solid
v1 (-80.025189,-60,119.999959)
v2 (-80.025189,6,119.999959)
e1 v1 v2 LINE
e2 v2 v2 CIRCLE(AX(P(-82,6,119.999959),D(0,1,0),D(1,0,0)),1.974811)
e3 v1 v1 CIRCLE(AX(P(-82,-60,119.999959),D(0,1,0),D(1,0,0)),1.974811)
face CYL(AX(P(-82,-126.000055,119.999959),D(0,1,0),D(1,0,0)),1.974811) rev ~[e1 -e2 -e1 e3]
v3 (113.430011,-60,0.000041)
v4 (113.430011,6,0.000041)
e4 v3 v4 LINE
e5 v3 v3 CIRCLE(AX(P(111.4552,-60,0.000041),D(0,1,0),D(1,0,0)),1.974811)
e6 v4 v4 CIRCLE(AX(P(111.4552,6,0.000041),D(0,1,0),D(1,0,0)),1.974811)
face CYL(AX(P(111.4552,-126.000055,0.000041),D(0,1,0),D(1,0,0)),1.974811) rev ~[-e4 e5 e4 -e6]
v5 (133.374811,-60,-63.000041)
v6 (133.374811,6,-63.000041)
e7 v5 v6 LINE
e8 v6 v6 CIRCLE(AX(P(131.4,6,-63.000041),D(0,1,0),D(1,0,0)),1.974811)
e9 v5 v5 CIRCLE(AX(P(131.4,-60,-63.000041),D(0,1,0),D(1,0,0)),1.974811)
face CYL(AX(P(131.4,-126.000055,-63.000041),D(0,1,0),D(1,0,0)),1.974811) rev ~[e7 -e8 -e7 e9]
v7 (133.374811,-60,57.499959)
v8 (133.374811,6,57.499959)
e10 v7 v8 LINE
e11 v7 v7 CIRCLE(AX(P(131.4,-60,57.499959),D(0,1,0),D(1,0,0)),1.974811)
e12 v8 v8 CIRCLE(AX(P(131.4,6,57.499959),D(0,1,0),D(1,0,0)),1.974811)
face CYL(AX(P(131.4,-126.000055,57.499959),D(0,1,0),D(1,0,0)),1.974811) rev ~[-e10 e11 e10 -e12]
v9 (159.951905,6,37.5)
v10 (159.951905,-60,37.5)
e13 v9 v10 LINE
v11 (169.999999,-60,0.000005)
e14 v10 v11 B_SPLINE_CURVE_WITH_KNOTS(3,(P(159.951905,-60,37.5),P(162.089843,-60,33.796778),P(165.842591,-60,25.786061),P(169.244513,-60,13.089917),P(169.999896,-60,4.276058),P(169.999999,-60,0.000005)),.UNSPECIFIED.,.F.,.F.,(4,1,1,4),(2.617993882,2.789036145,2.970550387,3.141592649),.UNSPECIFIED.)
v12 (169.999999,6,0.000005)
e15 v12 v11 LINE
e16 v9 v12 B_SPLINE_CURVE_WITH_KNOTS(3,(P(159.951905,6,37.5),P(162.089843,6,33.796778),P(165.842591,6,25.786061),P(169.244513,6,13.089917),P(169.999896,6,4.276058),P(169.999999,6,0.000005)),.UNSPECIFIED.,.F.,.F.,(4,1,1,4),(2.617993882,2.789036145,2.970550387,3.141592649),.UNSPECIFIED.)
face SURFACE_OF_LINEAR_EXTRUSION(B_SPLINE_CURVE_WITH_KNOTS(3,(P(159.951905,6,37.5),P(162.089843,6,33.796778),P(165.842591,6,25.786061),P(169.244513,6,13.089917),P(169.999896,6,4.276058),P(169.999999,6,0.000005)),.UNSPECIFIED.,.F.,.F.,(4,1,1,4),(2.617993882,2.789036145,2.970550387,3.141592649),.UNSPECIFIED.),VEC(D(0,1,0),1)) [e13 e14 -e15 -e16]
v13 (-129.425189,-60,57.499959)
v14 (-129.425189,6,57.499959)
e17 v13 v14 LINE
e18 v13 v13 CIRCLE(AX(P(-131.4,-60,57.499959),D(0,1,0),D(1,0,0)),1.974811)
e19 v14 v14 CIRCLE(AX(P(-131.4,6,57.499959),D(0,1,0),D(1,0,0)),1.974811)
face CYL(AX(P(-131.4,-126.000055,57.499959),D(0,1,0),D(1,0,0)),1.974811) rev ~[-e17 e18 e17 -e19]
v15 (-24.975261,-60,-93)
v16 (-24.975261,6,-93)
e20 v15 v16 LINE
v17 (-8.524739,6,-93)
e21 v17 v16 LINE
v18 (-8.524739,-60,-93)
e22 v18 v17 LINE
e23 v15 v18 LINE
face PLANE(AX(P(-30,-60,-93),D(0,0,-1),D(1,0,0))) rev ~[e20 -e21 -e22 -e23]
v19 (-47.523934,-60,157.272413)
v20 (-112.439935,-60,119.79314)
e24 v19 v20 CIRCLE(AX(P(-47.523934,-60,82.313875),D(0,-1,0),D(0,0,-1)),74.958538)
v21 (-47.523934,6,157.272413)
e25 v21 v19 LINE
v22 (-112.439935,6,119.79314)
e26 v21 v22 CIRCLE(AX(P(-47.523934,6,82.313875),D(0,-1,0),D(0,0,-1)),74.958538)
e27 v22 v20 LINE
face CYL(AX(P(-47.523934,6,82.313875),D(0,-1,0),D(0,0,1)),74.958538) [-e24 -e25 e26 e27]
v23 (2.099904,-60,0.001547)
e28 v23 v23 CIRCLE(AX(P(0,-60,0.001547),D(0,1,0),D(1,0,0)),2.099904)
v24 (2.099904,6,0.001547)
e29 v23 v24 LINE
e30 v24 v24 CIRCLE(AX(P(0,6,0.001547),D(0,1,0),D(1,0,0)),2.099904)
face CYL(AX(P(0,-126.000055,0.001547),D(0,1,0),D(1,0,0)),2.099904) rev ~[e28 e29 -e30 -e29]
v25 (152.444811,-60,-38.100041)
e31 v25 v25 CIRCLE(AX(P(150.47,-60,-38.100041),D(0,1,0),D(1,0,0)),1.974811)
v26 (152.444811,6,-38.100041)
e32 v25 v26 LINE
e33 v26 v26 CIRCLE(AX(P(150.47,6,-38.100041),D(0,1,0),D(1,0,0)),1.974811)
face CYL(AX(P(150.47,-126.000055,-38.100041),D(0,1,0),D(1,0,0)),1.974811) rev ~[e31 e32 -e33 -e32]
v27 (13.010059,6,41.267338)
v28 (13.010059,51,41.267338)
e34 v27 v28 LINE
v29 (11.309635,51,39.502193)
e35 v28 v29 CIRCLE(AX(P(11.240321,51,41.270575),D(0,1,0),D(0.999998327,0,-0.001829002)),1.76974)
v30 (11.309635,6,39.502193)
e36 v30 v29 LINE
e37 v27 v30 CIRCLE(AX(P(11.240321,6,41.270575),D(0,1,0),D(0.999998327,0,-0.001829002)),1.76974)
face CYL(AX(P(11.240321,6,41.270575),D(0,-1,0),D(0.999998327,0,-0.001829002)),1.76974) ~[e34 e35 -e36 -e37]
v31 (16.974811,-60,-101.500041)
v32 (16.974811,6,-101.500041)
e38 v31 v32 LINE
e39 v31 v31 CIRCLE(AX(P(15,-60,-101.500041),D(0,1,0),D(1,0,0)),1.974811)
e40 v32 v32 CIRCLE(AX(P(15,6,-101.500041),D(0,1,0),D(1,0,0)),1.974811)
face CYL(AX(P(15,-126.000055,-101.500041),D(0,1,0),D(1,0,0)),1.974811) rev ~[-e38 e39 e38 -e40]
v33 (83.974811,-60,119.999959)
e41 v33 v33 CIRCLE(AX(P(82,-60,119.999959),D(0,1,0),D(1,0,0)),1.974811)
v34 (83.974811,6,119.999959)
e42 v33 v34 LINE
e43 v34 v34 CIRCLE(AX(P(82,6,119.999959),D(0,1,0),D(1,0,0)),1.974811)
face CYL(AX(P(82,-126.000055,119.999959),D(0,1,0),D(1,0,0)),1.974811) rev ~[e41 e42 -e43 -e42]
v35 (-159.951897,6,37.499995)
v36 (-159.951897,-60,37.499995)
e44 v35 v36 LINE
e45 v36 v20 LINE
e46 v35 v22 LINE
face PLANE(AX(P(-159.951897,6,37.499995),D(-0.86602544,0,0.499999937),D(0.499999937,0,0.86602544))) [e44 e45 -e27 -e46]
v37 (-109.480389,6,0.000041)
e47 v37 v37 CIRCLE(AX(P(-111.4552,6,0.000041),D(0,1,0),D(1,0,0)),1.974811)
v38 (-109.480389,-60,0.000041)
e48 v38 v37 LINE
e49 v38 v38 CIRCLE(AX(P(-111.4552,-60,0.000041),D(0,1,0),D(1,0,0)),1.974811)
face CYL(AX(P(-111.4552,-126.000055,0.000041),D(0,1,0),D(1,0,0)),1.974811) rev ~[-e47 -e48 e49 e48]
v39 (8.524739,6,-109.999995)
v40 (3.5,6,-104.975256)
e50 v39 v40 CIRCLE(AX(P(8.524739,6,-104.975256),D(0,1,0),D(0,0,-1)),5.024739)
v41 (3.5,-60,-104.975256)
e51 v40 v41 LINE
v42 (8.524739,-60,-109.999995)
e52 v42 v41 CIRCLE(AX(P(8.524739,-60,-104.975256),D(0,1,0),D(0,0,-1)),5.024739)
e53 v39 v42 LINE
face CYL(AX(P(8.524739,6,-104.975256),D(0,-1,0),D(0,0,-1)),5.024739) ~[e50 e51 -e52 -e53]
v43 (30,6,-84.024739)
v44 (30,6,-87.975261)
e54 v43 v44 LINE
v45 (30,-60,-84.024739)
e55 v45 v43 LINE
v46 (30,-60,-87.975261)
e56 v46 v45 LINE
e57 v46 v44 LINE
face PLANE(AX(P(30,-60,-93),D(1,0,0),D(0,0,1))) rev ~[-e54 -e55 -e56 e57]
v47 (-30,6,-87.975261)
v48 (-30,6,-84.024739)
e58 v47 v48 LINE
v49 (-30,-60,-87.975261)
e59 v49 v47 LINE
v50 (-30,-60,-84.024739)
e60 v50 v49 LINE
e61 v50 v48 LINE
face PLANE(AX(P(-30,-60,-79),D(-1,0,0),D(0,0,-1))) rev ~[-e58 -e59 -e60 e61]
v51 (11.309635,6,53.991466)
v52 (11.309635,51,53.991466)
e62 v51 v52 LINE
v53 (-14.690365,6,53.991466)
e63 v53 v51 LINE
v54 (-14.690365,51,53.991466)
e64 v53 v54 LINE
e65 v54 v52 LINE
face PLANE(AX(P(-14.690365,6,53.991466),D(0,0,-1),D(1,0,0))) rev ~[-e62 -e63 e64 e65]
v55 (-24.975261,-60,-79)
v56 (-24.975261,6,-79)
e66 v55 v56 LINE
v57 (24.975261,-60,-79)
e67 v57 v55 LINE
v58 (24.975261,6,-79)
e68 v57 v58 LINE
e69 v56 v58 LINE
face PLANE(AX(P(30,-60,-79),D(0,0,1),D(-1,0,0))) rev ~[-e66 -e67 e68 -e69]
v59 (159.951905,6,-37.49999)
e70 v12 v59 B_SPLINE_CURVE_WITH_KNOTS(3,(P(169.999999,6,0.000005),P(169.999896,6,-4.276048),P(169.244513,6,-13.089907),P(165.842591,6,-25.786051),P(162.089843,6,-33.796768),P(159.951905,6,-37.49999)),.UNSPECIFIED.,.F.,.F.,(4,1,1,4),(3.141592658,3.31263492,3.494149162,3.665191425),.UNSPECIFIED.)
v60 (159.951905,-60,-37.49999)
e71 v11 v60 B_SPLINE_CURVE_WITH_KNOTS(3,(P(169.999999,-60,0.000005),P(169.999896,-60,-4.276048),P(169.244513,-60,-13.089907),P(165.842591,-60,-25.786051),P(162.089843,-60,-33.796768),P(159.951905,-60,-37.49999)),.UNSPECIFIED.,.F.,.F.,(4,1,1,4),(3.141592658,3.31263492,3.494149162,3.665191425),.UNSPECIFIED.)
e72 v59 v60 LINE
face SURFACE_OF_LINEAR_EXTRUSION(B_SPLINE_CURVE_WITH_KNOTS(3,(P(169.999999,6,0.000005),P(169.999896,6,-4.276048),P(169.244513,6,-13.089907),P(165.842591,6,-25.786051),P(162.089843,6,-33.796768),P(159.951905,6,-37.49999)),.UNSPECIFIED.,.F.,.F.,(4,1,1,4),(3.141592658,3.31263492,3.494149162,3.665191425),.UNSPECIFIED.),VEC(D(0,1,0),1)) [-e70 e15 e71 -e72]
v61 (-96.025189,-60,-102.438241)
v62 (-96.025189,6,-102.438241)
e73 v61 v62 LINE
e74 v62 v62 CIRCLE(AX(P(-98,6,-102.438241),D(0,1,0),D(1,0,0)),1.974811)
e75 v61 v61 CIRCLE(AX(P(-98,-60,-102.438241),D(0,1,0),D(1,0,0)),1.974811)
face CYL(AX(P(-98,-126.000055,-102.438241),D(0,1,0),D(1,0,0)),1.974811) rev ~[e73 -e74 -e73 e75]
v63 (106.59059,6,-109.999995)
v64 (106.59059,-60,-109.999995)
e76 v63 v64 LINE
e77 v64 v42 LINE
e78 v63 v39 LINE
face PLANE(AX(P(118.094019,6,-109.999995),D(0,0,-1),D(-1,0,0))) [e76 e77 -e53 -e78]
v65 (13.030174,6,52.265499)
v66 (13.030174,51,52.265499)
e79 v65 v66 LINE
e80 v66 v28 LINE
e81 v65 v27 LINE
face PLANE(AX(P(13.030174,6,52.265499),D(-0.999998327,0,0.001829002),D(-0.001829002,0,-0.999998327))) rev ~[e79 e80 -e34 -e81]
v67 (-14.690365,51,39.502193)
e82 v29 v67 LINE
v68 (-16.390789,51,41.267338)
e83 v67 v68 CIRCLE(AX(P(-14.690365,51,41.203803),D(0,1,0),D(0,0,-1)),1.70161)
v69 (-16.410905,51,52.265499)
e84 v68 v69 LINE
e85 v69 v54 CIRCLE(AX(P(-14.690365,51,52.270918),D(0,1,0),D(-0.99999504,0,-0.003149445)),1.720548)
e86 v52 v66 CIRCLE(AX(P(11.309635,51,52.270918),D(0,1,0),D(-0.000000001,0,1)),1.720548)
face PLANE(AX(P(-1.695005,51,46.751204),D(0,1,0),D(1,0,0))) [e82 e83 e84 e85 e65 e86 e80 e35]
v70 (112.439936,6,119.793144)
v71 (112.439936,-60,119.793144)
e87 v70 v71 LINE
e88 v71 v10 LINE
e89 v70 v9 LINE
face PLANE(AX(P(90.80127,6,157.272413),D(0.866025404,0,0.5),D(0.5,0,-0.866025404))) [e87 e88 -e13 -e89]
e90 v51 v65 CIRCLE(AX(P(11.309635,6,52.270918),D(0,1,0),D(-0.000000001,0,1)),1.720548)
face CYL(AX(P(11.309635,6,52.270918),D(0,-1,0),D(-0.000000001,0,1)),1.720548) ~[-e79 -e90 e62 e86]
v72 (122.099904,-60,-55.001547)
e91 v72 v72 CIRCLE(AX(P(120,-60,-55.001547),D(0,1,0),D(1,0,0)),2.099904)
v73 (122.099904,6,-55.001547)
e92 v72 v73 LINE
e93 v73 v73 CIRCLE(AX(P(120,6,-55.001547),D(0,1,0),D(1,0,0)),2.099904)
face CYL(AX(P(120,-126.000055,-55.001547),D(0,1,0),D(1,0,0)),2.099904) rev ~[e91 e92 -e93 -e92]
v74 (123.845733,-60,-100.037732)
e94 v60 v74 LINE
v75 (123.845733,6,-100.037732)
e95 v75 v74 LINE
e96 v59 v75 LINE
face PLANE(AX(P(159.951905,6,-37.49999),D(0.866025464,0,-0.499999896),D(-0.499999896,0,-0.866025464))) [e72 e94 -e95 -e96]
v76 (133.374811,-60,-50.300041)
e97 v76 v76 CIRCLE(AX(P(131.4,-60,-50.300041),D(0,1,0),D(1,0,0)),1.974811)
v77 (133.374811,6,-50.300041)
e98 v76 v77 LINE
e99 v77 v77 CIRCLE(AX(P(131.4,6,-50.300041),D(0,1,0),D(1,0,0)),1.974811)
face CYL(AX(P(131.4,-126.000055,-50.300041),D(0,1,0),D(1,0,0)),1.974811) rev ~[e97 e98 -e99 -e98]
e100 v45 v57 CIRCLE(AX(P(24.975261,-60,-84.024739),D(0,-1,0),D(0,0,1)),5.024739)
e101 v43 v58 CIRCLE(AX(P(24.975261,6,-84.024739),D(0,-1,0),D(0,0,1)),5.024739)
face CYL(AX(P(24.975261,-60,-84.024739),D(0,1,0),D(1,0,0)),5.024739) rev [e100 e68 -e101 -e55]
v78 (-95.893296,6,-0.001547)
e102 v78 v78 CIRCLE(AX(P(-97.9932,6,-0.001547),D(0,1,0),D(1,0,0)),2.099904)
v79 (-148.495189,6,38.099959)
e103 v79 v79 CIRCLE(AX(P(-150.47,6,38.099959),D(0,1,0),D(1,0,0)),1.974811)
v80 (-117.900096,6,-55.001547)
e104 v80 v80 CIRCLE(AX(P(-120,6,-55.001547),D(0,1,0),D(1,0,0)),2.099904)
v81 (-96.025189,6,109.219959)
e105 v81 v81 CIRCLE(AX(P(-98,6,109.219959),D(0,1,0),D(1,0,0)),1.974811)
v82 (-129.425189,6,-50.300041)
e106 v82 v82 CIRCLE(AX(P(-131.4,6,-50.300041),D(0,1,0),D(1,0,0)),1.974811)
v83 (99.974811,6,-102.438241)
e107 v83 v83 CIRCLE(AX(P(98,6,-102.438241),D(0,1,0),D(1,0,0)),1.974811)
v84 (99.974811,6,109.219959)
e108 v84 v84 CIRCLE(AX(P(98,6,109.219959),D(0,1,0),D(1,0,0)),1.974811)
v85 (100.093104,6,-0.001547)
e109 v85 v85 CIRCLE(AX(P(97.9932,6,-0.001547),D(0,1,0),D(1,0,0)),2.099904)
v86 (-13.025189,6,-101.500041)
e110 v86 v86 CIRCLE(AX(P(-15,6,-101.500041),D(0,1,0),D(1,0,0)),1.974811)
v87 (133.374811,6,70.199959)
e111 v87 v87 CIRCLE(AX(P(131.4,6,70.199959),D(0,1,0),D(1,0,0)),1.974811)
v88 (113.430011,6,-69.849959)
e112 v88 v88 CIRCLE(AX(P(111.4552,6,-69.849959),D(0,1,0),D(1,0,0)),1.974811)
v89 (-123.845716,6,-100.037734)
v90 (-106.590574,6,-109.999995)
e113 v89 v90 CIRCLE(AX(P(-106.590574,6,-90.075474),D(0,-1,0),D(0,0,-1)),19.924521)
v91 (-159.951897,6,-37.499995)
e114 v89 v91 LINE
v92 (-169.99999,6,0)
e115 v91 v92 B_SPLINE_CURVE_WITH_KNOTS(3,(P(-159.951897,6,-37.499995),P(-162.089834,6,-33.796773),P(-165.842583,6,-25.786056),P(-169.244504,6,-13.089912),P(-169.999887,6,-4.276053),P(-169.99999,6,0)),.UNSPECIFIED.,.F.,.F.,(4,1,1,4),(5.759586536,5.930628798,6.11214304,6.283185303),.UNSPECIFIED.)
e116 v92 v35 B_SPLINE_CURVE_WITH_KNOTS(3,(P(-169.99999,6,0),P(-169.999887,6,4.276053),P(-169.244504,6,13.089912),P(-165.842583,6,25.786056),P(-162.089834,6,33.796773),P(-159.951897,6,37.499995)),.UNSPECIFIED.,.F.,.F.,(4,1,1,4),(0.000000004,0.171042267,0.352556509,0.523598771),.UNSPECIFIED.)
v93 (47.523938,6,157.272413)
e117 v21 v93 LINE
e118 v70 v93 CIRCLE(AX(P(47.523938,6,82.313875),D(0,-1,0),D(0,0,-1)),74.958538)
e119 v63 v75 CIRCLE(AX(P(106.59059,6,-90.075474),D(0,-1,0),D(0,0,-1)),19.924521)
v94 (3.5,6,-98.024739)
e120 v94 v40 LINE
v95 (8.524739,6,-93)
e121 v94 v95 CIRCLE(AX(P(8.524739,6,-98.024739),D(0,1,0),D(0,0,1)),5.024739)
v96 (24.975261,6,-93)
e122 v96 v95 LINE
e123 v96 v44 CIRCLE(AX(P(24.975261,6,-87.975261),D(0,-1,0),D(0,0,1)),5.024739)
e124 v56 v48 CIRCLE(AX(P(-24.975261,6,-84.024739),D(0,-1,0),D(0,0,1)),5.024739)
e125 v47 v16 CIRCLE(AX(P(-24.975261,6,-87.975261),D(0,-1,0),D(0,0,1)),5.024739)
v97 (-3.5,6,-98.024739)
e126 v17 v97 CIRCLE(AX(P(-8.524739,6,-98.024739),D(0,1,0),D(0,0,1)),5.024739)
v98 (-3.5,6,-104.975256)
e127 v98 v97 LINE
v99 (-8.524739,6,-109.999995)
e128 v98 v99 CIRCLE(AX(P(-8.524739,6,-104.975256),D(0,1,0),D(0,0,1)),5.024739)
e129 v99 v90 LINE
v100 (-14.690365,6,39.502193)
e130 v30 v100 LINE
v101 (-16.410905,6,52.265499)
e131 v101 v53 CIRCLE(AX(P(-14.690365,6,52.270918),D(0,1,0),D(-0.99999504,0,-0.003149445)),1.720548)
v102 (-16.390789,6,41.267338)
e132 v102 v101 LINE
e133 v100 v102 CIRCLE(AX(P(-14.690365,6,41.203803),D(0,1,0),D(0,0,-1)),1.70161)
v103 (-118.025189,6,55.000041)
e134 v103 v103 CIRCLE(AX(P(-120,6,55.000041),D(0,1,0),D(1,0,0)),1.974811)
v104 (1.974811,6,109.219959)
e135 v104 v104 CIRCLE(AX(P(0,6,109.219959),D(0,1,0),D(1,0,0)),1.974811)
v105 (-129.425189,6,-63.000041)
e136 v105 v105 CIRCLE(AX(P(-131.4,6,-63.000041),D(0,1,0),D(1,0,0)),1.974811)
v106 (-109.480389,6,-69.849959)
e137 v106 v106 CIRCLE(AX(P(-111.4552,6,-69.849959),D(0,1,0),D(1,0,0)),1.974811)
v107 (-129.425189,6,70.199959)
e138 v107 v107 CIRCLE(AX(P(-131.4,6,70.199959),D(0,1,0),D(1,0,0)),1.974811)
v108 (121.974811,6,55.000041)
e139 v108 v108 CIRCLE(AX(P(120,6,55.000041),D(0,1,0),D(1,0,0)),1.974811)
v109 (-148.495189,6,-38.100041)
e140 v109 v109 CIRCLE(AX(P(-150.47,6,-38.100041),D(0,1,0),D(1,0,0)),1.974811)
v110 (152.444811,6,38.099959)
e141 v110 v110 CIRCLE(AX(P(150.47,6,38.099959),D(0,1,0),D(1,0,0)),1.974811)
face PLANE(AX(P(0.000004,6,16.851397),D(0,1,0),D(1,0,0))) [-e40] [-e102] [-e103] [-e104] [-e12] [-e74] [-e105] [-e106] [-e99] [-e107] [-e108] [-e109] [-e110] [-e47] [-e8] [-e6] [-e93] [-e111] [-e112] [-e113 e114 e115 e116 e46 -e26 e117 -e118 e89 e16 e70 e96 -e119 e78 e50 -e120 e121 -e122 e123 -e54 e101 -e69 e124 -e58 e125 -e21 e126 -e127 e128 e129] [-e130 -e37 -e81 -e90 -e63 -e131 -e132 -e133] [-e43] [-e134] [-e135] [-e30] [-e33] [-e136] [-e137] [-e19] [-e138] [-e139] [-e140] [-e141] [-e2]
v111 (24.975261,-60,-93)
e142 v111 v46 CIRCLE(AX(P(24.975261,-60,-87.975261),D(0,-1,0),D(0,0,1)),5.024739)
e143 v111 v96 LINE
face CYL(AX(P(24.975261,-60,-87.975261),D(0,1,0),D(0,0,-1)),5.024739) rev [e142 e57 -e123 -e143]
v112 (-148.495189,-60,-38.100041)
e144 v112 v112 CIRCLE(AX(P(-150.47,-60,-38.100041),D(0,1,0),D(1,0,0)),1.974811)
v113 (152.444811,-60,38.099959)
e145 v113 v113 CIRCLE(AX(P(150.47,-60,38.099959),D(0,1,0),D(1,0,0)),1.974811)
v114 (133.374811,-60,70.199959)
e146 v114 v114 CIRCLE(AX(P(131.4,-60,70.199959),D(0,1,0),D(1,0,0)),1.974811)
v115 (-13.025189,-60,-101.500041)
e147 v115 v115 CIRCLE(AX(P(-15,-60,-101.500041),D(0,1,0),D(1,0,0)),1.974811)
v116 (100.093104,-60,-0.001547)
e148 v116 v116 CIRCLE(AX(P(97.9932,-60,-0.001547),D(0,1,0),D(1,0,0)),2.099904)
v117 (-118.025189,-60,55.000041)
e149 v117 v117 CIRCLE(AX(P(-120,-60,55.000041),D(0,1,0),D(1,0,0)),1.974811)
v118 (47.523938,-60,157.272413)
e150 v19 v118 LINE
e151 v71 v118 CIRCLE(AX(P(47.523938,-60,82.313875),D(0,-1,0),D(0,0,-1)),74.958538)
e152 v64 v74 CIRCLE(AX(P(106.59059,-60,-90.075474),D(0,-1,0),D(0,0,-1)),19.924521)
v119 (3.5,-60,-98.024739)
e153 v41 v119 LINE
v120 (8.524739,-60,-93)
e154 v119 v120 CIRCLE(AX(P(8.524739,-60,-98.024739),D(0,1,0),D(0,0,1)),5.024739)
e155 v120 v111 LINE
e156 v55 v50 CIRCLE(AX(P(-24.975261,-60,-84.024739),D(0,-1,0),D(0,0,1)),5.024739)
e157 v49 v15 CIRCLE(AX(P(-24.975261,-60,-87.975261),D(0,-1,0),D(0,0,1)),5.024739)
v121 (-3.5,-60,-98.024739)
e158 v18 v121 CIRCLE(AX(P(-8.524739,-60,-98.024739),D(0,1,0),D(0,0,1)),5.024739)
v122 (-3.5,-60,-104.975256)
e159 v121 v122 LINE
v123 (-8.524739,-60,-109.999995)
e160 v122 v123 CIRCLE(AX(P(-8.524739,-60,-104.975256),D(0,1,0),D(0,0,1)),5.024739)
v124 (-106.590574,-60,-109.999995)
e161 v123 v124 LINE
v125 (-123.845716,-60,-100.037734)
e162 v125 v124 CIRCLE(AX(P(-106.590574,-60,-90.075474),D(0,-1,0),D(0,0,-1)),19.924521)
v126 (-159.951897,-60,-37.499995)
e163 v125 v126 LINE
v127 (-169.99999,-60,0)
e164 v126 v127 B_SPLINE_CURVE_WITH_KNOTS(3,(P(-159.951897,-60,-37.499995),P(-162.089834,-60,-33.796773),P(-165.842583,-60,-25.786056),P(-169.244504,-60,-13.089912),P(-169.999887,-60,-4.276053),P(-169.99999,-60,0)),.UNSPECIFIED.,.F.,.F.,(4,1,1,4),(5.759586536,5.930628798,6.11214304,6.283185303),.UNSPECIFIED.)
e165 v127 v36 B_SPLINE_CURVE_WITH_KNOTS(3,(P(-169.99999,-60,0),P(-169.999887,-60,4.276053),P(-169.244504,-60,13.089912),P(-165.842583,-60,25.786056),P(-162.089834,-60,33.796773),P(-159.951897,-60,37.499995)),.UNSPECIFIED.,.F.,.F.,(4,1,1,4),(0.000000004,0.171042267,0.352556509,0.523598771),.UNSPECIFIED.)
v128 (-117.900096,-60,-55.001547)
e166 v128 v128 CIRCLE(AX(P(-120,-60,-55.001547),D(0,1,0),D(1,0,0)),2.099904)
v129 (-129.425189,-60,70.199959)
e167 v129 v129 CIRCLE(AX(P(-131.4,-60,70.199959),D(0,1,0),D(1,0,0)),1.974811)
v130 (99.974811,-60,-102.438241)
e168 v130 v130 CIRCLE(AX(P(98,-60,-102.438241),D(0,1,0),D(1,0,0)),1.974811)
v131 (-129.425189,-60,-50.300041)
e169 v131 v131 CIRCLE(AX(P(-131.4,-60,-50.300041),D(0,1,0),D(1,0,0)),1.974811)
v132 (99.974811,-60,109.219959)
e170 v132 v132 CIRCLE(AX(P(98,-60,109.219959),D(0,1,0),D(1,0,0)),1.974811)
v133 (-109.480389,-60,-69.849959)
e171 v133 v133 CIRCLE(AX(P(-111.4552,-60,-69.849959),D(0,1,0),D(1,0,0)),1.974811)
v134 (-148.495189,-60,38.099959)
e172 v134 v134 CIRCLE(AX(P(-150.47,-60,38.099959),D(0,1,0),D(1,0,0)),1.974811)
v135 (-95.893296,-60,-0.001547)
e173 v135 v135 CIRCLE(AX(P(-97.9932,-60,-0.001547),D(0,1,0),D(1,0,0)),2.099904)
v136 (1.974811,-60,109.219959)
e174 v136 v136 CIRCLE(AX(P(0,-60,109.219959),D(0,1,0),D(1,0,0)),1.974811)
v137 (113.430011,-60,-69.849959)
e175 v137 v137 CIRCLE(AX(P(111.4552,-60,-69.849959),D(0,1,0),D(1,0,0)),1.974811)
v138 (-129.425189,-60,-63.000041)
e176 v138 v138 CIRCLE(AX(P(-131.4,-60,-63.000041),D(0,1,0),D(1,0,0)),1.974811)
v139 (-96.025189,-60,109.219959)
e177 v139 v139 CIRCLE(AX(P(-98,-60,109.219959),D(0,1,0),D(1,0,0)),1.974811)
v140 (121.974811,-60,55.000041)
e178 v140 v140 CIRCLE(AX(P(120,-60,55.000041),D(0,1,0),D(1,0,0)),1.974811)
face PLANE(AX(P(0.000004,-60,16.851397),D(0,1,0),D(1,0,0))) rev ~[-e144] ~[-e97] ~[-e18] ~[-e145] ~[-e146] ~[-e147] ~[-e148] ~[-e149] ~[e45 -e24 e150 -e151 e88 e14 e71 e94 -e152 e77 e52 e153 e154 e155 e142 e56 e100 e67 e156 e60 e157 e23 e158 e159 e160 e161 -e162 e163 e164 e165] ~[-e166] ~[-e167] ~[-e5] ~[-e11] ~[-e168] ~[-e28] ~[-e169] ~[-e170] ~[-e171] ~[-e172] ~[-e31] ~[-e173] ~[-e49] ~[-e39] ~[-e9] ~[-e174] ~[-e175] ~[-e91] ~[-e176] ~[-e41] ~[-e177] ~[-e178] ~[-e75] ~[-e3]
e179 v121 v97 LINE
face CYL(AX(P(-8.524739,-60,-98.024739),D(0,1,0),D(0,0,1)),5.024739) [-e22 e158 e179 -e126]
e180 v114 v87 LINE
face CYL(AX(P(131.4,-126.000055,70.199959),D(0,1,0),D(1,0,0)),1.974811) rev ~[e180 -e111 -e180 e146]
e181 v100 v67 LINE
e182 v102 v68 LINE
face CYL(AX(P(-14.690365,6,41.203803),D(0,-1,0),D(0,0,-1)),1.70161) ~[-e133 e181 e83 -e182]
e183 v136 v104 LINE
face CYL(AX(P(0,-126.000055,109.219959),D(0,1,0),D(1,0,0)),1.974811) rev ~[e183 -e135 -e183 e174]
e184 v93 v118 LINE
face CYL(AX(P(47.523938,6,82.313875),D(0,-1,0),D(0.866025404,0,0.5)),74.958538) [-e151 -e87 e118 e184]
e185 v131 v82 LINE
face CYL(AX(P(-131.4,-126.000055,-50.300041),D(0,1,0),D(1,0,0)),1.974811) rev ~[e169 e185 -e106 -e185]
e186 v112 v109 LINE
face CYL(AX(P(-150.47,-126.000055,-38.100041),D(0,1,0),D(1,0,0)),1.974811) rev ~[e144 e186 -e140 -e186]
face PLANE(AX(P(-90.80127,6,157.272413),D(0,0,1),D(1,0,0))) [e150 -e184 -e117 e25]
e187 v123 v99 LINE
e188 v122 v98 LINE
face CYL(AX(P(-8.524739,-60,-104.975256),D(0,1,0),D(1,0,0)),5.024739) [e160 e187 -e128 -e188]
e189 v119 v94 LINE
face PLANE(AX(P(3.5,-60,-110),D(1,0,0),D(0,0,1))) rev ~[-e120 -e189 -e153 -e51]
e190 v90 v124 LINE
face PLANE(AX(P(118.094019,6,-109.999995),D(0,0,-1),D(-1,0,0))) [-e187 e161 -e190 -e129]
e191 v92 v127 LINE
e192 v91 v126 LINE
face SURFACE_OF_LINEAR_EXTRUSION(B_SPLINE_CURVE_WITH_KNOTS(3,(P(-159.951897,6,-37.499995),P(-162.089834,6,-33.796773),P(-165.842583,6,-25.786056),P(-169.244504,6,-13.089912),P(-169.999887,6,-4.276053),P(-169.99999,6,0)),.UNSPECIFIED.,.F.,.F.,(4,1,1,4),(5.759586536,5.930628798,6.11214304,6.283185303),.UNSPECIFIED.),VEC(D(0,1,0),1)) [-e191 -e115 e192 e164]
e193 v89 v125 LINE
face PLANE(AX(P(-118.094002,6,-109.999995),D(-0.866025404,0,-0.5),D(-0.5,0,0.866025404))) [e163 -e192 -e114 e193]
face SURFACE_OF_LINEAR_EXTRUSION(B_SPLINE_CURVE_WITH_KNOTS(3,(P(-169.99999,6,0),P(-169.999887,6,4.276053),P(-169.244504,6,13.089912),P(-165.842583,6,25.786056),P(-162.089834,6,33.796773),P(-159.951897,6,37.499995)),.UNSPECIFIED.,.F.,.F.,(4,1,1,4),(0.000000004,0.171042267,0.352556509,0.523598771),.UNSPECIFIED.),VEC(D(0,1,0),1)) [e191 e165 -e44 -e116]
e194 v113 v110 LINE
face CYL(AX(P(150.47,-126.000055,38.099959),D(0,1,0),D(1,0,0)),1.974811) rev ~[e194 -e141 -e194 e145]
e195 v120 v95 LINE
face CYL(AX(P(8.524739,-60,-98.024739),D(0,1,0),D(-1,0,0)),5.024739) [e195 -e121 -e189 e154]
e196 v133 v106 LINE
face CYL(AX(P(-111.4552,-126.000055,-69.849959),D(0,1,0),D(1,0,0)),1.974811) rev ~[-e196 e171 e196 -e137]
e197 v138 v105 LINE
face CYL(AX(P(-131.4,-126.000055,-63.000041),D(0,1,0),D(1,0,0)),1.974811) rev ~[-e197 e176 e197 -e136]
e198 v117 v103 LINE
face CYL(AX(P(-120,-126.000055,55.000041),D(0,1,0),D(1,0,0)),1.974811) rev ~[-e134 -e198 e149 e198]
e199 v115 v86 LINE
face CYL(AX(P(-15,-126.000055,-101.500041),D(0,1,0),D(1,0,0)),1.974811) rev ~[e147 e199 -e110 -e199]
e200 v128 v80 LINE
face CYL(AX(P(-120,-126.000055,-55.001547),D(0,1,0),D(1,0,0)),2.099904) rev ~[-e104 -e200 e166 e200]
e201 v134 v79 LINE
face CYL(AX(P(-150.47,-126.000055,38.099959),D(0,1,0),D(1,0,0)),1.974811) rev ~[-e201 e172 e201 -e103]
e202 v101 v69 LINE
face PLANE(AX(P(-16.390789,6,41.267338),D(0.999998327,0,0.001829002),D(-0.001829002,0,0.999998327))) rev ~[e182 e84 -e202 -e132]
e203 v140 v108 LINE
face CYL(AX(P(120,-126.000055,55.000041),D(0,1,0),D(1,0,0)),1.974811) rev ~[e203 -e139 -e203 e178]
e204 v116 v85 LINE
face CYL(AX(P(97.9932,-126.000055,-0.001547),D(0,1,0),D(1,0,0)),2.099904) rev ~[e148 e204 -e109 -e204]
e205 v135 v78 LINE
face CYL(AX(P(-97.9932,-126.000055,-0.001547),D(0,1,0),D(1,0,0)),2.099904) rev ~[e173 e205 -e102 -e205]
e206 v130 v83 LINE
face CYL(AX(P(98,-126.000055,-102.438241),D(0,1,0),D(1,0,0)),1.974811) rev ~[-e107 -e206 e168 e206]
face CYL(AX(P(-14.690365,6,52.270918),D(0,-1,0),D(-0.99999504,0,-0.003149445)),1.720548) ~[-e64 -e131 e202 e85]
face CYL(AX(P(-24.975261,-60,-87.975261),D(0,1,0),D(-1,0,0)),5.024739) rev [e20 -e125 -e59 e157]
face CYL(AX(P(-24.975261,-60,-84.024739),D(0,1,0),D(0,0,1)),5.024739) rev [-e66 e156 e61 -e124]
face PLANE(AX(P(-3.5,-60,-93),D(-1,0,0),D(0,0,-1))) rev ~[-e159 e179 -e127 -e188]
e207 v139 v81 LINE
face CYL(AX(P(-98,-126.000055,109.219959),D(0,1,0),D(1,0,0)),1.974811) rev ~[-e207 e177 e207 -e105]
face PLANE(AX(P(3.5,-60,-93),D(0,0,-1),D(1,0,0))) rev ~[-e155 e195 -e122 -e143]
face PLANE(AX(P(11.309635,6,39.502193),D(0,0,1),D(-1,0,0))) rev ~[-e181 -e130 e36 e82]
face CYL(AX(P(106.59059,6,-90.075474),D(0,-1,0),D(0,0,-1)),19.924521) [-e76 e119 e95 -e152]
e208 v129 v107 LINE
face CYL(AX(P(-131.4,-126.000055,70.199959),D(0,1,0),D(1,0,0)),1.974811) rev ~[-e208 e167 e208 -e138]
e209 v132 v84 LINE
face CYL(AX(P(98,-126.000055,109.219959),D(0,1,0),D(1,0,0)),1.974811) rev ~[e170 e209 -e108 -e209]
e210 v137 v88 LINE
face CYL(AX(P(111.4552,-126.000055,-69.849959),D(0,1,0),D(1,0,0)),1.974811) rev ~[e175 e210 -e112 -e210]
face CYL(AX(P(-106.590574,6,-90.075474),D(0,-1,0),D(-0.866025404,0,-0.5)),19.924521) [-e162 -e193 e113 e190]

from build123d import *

# Parameters (mm, degrees)
BOSS_EXTRUDE1_DEPTH        = 66
CUT_EXTRUDE1_DEPTH         = 67.0000001
M3_5_CLEARANCE_HOLE1_D     = 4.199808185
M3_5_CLEARANCE_HOLE1_DEPTH = 66.000055
M3_5_CLEARANCE_HOLE2_D     = 3.949622561
M3_5_CLEARANCE_HOLE2_DEPTH = 66.000055
FILLET1_R                  = 5.024738629
FILLET2_R                  = 19.924521471
FILLET3_R                  = 74.958538247
BOSS_EXTRUDE2_DEPTH        = 45


with BuildPart() as part:
    # Sketch1 → Boss-Extrude1 (new body)
    with BuildSketch(Plane(origin=(0, 6, 0), x_dir=(1, 0, 0), z_dir=(0, 1, 0))):
        with BuildLine():
            Line((118.094019457, 109.999994984), (-118.094002078, 109.999994984))
            Line((-118.094002078, 109.999994984), (-159.951896595, 37.499994984))
            add(Edge.make_bspline(
                [(-159.951896595, 37.499994984), (-162.089834317, 33.796773054), (-165.842582605, 25.786056062), (-169.244504237, 13.08991169), (-169.999887381, 4.276053128), (-169.999989967, 0)],
                knots=[5.759586536, 5.759586536, 5.759586536, 5.759586536, 5.930628798, 6.11214304, 6.283185303, 6.283185303, 6.283185303, 6.283185303], degree=3))
            add(Edge.make_bspline(
                [(-169.999989967, 0), (-169.999887381, -4.276053128), (-169.244504237, -13.089911689), (-165.842582605, -25.786056062), (-162.089834317, -33.796773054), (-159.951896595, -37.499994984)],
                knots=[4e-09, 4e-09, 4e-09, 4e-09, 0.171042267, 0.352556509, 0.523598771, 0.523598771, 0.523598771, 0.523598771], degree=3))
            Line((-159.951896595, -37.499994984), (-90.801270189, -157.27241336))
            Line((-90.801270189, -157.27241336), (90.801270189, -157.27241336))
            Line((90.801270189, -157.27241336), (159.951905284, -37.5))
            add(Edge.make_bspline(
                [(159.951905284, -37.5), (162.089843006, -33.79677807), (165.842591294, -25.786061079), (169.244512926, -13.089916706), (169.99989607, -4.276058145), (169.999998656, -5.016e-06)],
                knots=[2.617993882, 2.617993882, 2.617993882, 2.617993882, 2.789036145, 2.970550387, 3.141592649, 3.141592649, 3.141592649, 3.141592649], degree=3))
            add(Edge.make_bspline(
                [(169.999998656, -5.016e-06), (169.99989607, 4.276048112), (169.244512926, 13.089906673), (165.842591294, 25.786051046), (162.089843006, 33.796768038), (159.951905284, 37.499989968)],
                knots=[3.141592658, 3.141592658, 3.141592658, 3.141592658, 3.31263492, 3.494149162, 3.665191425, 3.665191425, 3.665191425, 3.665191425], degree=3))
            Line((159.951905284, 37.499989968), (118.094019457, 109.999994984))
        make_face()
    extrude(amount=-BOSS_EXTRUDE1_DEPTH)

    # Sketch2 → Cut-Extrude1 (cut, through all)
    with BuildSketch(Plane.XZ.offset(60)):
        Polygon((3.5, -110), (3.5, -93), (30, -93), (30, -79), (-30, -79), (-30, -93), (-3.5, -93), (-3.5, -110), align=None)
    extrude(amount=-CUT_EXTRUDE1_DEPTH, mode=Mode.SUBTRACT)

    # M3.5 Clearance Hole1
    with Locations(Plane(origin=(0, -60, 0), x_dir=(-1, 0, 0), z_dir=(0, -1, 0))):
        with Locations((0, -0.001547229), (-97.9932, 0.001547229), (97.9932, 0.001547229), (120, 55.001547229), (-120, 55.001547229)):
            Hole(M3_5_CLEARANCE_HOLE1_D / 2, depth=M3_5_CLEARANCE_HOLE1_DEPTH)

    # M3.5 Clearance Hole2
    with Locations(Plane(origin=(0, -60, 0), x_dir=(-1, 0, 0), z_dir=(0, -1, 0))):
        with Locations((98, 102.43824134), (0, -109.21995866), (98, -109.21995866), (-98, -109.21995866), (111.4552, 69.84995866), (111.4552, -4.134e-05), (-111.4552, 69.84995866), (-111.4552, -4.134e-05), (-120, -55.00004134), (120, -55.00004134), (131.4, 50.30004134), (-131.4, 50.30004134), (131.4, -70.19995866), (-131.4, -70.19995866), (131.4, 63.00004134), (-131.4, 63.00004134), (131.4, -57.49995866), (-131.4, -57.49995866), (15, 101.50004134), (-98, 102.43824134), (-15, 101.50004134), (150.47, 38.10004134), (150.47, -38.09995866), (-150.47, 38.10004134), (-150.47, -38.09995866), (-82, -119.99995866), (82, -119.99995866)):
            Hole(M3_5_CLEARANCE_HOLE2_D / 2, depth=M3_5_CLEARANCE_HOLE2_DEPTH)

    # Fillet1
    fillet1_edges = [part.edges().sort_by_distance(p)[0] for p in [
        (-3.5, -27, -109.999994984),
        (-30, -27, -79),
        (30, -27, -79),
        (3.5, -27, -109.999994984),
        (-30, -27, -93),
        (-3.5, -27, -93),
        (30, -27, -93),
        (3.5, -27, -93),
    ]]
    fillet(fillet1_edges, radius=FILLET1_R)

    # Fillet2
    fillet2_edges = [part.edges().sort_by_distance(p)[0] for p in [
        (118.094019457, -27, -109.999994984),
        (-118.094002078, -27, -109.999994984),
    ]]
    fillet(fillet2_edges, radius=FILLET2_R)

    # Fillet3
    fillet3_edges = [part.edges().sort_by_distance(p)[0] for p in [
        (-90.801270189, -27, 157.27241336),
        (90.801270189, -27, 157.27241336),
    ]]
    fillet(fillet3_edges, radius=FILLET3_R)

    # Sketch7 → Boss-Extrude2 (add)
    with BuildSketch(Plane(origin=(0, 6, 0), x_dir=(1, 0, 0), z_dir=(0, 1, 0))):
        with BuildLine():
            Line((-16.390788815, -41.267338357), (-16.410904507, -52.265499005))
            ThreePointArc((-16.410904507, -52.265499005), (-15.908890548, -53.485611522), (-14.690365147, -53.991465667))
            Line((-14.690365147, -53.991465667), (11.309634853, -53.991465667))
            ThreePointArc((11.309634853, -53.991465667), (12.528160254, -53.485611522), (13.030174213, -52.265499005))
            Line((13.030174213, -52.265499005), (13.010058521, -41.267338357))
            ThreePointArc((13.010058521, -41.267338357), (12.514864968, -40.042764602), (11.309634853, -39.50219277))
            Line((11.309634853, -39.50219277), (-14.690365147, -39.50219277))
            ThreePointArc((-14.690365147, -39.50219277), (-15.915842564, -40.023259701), (-16.390788815, -41.267338357))
        make_face()
    extrude(amount=BOSS_EXTRUDE2_DEPTH)


solid = part.part
